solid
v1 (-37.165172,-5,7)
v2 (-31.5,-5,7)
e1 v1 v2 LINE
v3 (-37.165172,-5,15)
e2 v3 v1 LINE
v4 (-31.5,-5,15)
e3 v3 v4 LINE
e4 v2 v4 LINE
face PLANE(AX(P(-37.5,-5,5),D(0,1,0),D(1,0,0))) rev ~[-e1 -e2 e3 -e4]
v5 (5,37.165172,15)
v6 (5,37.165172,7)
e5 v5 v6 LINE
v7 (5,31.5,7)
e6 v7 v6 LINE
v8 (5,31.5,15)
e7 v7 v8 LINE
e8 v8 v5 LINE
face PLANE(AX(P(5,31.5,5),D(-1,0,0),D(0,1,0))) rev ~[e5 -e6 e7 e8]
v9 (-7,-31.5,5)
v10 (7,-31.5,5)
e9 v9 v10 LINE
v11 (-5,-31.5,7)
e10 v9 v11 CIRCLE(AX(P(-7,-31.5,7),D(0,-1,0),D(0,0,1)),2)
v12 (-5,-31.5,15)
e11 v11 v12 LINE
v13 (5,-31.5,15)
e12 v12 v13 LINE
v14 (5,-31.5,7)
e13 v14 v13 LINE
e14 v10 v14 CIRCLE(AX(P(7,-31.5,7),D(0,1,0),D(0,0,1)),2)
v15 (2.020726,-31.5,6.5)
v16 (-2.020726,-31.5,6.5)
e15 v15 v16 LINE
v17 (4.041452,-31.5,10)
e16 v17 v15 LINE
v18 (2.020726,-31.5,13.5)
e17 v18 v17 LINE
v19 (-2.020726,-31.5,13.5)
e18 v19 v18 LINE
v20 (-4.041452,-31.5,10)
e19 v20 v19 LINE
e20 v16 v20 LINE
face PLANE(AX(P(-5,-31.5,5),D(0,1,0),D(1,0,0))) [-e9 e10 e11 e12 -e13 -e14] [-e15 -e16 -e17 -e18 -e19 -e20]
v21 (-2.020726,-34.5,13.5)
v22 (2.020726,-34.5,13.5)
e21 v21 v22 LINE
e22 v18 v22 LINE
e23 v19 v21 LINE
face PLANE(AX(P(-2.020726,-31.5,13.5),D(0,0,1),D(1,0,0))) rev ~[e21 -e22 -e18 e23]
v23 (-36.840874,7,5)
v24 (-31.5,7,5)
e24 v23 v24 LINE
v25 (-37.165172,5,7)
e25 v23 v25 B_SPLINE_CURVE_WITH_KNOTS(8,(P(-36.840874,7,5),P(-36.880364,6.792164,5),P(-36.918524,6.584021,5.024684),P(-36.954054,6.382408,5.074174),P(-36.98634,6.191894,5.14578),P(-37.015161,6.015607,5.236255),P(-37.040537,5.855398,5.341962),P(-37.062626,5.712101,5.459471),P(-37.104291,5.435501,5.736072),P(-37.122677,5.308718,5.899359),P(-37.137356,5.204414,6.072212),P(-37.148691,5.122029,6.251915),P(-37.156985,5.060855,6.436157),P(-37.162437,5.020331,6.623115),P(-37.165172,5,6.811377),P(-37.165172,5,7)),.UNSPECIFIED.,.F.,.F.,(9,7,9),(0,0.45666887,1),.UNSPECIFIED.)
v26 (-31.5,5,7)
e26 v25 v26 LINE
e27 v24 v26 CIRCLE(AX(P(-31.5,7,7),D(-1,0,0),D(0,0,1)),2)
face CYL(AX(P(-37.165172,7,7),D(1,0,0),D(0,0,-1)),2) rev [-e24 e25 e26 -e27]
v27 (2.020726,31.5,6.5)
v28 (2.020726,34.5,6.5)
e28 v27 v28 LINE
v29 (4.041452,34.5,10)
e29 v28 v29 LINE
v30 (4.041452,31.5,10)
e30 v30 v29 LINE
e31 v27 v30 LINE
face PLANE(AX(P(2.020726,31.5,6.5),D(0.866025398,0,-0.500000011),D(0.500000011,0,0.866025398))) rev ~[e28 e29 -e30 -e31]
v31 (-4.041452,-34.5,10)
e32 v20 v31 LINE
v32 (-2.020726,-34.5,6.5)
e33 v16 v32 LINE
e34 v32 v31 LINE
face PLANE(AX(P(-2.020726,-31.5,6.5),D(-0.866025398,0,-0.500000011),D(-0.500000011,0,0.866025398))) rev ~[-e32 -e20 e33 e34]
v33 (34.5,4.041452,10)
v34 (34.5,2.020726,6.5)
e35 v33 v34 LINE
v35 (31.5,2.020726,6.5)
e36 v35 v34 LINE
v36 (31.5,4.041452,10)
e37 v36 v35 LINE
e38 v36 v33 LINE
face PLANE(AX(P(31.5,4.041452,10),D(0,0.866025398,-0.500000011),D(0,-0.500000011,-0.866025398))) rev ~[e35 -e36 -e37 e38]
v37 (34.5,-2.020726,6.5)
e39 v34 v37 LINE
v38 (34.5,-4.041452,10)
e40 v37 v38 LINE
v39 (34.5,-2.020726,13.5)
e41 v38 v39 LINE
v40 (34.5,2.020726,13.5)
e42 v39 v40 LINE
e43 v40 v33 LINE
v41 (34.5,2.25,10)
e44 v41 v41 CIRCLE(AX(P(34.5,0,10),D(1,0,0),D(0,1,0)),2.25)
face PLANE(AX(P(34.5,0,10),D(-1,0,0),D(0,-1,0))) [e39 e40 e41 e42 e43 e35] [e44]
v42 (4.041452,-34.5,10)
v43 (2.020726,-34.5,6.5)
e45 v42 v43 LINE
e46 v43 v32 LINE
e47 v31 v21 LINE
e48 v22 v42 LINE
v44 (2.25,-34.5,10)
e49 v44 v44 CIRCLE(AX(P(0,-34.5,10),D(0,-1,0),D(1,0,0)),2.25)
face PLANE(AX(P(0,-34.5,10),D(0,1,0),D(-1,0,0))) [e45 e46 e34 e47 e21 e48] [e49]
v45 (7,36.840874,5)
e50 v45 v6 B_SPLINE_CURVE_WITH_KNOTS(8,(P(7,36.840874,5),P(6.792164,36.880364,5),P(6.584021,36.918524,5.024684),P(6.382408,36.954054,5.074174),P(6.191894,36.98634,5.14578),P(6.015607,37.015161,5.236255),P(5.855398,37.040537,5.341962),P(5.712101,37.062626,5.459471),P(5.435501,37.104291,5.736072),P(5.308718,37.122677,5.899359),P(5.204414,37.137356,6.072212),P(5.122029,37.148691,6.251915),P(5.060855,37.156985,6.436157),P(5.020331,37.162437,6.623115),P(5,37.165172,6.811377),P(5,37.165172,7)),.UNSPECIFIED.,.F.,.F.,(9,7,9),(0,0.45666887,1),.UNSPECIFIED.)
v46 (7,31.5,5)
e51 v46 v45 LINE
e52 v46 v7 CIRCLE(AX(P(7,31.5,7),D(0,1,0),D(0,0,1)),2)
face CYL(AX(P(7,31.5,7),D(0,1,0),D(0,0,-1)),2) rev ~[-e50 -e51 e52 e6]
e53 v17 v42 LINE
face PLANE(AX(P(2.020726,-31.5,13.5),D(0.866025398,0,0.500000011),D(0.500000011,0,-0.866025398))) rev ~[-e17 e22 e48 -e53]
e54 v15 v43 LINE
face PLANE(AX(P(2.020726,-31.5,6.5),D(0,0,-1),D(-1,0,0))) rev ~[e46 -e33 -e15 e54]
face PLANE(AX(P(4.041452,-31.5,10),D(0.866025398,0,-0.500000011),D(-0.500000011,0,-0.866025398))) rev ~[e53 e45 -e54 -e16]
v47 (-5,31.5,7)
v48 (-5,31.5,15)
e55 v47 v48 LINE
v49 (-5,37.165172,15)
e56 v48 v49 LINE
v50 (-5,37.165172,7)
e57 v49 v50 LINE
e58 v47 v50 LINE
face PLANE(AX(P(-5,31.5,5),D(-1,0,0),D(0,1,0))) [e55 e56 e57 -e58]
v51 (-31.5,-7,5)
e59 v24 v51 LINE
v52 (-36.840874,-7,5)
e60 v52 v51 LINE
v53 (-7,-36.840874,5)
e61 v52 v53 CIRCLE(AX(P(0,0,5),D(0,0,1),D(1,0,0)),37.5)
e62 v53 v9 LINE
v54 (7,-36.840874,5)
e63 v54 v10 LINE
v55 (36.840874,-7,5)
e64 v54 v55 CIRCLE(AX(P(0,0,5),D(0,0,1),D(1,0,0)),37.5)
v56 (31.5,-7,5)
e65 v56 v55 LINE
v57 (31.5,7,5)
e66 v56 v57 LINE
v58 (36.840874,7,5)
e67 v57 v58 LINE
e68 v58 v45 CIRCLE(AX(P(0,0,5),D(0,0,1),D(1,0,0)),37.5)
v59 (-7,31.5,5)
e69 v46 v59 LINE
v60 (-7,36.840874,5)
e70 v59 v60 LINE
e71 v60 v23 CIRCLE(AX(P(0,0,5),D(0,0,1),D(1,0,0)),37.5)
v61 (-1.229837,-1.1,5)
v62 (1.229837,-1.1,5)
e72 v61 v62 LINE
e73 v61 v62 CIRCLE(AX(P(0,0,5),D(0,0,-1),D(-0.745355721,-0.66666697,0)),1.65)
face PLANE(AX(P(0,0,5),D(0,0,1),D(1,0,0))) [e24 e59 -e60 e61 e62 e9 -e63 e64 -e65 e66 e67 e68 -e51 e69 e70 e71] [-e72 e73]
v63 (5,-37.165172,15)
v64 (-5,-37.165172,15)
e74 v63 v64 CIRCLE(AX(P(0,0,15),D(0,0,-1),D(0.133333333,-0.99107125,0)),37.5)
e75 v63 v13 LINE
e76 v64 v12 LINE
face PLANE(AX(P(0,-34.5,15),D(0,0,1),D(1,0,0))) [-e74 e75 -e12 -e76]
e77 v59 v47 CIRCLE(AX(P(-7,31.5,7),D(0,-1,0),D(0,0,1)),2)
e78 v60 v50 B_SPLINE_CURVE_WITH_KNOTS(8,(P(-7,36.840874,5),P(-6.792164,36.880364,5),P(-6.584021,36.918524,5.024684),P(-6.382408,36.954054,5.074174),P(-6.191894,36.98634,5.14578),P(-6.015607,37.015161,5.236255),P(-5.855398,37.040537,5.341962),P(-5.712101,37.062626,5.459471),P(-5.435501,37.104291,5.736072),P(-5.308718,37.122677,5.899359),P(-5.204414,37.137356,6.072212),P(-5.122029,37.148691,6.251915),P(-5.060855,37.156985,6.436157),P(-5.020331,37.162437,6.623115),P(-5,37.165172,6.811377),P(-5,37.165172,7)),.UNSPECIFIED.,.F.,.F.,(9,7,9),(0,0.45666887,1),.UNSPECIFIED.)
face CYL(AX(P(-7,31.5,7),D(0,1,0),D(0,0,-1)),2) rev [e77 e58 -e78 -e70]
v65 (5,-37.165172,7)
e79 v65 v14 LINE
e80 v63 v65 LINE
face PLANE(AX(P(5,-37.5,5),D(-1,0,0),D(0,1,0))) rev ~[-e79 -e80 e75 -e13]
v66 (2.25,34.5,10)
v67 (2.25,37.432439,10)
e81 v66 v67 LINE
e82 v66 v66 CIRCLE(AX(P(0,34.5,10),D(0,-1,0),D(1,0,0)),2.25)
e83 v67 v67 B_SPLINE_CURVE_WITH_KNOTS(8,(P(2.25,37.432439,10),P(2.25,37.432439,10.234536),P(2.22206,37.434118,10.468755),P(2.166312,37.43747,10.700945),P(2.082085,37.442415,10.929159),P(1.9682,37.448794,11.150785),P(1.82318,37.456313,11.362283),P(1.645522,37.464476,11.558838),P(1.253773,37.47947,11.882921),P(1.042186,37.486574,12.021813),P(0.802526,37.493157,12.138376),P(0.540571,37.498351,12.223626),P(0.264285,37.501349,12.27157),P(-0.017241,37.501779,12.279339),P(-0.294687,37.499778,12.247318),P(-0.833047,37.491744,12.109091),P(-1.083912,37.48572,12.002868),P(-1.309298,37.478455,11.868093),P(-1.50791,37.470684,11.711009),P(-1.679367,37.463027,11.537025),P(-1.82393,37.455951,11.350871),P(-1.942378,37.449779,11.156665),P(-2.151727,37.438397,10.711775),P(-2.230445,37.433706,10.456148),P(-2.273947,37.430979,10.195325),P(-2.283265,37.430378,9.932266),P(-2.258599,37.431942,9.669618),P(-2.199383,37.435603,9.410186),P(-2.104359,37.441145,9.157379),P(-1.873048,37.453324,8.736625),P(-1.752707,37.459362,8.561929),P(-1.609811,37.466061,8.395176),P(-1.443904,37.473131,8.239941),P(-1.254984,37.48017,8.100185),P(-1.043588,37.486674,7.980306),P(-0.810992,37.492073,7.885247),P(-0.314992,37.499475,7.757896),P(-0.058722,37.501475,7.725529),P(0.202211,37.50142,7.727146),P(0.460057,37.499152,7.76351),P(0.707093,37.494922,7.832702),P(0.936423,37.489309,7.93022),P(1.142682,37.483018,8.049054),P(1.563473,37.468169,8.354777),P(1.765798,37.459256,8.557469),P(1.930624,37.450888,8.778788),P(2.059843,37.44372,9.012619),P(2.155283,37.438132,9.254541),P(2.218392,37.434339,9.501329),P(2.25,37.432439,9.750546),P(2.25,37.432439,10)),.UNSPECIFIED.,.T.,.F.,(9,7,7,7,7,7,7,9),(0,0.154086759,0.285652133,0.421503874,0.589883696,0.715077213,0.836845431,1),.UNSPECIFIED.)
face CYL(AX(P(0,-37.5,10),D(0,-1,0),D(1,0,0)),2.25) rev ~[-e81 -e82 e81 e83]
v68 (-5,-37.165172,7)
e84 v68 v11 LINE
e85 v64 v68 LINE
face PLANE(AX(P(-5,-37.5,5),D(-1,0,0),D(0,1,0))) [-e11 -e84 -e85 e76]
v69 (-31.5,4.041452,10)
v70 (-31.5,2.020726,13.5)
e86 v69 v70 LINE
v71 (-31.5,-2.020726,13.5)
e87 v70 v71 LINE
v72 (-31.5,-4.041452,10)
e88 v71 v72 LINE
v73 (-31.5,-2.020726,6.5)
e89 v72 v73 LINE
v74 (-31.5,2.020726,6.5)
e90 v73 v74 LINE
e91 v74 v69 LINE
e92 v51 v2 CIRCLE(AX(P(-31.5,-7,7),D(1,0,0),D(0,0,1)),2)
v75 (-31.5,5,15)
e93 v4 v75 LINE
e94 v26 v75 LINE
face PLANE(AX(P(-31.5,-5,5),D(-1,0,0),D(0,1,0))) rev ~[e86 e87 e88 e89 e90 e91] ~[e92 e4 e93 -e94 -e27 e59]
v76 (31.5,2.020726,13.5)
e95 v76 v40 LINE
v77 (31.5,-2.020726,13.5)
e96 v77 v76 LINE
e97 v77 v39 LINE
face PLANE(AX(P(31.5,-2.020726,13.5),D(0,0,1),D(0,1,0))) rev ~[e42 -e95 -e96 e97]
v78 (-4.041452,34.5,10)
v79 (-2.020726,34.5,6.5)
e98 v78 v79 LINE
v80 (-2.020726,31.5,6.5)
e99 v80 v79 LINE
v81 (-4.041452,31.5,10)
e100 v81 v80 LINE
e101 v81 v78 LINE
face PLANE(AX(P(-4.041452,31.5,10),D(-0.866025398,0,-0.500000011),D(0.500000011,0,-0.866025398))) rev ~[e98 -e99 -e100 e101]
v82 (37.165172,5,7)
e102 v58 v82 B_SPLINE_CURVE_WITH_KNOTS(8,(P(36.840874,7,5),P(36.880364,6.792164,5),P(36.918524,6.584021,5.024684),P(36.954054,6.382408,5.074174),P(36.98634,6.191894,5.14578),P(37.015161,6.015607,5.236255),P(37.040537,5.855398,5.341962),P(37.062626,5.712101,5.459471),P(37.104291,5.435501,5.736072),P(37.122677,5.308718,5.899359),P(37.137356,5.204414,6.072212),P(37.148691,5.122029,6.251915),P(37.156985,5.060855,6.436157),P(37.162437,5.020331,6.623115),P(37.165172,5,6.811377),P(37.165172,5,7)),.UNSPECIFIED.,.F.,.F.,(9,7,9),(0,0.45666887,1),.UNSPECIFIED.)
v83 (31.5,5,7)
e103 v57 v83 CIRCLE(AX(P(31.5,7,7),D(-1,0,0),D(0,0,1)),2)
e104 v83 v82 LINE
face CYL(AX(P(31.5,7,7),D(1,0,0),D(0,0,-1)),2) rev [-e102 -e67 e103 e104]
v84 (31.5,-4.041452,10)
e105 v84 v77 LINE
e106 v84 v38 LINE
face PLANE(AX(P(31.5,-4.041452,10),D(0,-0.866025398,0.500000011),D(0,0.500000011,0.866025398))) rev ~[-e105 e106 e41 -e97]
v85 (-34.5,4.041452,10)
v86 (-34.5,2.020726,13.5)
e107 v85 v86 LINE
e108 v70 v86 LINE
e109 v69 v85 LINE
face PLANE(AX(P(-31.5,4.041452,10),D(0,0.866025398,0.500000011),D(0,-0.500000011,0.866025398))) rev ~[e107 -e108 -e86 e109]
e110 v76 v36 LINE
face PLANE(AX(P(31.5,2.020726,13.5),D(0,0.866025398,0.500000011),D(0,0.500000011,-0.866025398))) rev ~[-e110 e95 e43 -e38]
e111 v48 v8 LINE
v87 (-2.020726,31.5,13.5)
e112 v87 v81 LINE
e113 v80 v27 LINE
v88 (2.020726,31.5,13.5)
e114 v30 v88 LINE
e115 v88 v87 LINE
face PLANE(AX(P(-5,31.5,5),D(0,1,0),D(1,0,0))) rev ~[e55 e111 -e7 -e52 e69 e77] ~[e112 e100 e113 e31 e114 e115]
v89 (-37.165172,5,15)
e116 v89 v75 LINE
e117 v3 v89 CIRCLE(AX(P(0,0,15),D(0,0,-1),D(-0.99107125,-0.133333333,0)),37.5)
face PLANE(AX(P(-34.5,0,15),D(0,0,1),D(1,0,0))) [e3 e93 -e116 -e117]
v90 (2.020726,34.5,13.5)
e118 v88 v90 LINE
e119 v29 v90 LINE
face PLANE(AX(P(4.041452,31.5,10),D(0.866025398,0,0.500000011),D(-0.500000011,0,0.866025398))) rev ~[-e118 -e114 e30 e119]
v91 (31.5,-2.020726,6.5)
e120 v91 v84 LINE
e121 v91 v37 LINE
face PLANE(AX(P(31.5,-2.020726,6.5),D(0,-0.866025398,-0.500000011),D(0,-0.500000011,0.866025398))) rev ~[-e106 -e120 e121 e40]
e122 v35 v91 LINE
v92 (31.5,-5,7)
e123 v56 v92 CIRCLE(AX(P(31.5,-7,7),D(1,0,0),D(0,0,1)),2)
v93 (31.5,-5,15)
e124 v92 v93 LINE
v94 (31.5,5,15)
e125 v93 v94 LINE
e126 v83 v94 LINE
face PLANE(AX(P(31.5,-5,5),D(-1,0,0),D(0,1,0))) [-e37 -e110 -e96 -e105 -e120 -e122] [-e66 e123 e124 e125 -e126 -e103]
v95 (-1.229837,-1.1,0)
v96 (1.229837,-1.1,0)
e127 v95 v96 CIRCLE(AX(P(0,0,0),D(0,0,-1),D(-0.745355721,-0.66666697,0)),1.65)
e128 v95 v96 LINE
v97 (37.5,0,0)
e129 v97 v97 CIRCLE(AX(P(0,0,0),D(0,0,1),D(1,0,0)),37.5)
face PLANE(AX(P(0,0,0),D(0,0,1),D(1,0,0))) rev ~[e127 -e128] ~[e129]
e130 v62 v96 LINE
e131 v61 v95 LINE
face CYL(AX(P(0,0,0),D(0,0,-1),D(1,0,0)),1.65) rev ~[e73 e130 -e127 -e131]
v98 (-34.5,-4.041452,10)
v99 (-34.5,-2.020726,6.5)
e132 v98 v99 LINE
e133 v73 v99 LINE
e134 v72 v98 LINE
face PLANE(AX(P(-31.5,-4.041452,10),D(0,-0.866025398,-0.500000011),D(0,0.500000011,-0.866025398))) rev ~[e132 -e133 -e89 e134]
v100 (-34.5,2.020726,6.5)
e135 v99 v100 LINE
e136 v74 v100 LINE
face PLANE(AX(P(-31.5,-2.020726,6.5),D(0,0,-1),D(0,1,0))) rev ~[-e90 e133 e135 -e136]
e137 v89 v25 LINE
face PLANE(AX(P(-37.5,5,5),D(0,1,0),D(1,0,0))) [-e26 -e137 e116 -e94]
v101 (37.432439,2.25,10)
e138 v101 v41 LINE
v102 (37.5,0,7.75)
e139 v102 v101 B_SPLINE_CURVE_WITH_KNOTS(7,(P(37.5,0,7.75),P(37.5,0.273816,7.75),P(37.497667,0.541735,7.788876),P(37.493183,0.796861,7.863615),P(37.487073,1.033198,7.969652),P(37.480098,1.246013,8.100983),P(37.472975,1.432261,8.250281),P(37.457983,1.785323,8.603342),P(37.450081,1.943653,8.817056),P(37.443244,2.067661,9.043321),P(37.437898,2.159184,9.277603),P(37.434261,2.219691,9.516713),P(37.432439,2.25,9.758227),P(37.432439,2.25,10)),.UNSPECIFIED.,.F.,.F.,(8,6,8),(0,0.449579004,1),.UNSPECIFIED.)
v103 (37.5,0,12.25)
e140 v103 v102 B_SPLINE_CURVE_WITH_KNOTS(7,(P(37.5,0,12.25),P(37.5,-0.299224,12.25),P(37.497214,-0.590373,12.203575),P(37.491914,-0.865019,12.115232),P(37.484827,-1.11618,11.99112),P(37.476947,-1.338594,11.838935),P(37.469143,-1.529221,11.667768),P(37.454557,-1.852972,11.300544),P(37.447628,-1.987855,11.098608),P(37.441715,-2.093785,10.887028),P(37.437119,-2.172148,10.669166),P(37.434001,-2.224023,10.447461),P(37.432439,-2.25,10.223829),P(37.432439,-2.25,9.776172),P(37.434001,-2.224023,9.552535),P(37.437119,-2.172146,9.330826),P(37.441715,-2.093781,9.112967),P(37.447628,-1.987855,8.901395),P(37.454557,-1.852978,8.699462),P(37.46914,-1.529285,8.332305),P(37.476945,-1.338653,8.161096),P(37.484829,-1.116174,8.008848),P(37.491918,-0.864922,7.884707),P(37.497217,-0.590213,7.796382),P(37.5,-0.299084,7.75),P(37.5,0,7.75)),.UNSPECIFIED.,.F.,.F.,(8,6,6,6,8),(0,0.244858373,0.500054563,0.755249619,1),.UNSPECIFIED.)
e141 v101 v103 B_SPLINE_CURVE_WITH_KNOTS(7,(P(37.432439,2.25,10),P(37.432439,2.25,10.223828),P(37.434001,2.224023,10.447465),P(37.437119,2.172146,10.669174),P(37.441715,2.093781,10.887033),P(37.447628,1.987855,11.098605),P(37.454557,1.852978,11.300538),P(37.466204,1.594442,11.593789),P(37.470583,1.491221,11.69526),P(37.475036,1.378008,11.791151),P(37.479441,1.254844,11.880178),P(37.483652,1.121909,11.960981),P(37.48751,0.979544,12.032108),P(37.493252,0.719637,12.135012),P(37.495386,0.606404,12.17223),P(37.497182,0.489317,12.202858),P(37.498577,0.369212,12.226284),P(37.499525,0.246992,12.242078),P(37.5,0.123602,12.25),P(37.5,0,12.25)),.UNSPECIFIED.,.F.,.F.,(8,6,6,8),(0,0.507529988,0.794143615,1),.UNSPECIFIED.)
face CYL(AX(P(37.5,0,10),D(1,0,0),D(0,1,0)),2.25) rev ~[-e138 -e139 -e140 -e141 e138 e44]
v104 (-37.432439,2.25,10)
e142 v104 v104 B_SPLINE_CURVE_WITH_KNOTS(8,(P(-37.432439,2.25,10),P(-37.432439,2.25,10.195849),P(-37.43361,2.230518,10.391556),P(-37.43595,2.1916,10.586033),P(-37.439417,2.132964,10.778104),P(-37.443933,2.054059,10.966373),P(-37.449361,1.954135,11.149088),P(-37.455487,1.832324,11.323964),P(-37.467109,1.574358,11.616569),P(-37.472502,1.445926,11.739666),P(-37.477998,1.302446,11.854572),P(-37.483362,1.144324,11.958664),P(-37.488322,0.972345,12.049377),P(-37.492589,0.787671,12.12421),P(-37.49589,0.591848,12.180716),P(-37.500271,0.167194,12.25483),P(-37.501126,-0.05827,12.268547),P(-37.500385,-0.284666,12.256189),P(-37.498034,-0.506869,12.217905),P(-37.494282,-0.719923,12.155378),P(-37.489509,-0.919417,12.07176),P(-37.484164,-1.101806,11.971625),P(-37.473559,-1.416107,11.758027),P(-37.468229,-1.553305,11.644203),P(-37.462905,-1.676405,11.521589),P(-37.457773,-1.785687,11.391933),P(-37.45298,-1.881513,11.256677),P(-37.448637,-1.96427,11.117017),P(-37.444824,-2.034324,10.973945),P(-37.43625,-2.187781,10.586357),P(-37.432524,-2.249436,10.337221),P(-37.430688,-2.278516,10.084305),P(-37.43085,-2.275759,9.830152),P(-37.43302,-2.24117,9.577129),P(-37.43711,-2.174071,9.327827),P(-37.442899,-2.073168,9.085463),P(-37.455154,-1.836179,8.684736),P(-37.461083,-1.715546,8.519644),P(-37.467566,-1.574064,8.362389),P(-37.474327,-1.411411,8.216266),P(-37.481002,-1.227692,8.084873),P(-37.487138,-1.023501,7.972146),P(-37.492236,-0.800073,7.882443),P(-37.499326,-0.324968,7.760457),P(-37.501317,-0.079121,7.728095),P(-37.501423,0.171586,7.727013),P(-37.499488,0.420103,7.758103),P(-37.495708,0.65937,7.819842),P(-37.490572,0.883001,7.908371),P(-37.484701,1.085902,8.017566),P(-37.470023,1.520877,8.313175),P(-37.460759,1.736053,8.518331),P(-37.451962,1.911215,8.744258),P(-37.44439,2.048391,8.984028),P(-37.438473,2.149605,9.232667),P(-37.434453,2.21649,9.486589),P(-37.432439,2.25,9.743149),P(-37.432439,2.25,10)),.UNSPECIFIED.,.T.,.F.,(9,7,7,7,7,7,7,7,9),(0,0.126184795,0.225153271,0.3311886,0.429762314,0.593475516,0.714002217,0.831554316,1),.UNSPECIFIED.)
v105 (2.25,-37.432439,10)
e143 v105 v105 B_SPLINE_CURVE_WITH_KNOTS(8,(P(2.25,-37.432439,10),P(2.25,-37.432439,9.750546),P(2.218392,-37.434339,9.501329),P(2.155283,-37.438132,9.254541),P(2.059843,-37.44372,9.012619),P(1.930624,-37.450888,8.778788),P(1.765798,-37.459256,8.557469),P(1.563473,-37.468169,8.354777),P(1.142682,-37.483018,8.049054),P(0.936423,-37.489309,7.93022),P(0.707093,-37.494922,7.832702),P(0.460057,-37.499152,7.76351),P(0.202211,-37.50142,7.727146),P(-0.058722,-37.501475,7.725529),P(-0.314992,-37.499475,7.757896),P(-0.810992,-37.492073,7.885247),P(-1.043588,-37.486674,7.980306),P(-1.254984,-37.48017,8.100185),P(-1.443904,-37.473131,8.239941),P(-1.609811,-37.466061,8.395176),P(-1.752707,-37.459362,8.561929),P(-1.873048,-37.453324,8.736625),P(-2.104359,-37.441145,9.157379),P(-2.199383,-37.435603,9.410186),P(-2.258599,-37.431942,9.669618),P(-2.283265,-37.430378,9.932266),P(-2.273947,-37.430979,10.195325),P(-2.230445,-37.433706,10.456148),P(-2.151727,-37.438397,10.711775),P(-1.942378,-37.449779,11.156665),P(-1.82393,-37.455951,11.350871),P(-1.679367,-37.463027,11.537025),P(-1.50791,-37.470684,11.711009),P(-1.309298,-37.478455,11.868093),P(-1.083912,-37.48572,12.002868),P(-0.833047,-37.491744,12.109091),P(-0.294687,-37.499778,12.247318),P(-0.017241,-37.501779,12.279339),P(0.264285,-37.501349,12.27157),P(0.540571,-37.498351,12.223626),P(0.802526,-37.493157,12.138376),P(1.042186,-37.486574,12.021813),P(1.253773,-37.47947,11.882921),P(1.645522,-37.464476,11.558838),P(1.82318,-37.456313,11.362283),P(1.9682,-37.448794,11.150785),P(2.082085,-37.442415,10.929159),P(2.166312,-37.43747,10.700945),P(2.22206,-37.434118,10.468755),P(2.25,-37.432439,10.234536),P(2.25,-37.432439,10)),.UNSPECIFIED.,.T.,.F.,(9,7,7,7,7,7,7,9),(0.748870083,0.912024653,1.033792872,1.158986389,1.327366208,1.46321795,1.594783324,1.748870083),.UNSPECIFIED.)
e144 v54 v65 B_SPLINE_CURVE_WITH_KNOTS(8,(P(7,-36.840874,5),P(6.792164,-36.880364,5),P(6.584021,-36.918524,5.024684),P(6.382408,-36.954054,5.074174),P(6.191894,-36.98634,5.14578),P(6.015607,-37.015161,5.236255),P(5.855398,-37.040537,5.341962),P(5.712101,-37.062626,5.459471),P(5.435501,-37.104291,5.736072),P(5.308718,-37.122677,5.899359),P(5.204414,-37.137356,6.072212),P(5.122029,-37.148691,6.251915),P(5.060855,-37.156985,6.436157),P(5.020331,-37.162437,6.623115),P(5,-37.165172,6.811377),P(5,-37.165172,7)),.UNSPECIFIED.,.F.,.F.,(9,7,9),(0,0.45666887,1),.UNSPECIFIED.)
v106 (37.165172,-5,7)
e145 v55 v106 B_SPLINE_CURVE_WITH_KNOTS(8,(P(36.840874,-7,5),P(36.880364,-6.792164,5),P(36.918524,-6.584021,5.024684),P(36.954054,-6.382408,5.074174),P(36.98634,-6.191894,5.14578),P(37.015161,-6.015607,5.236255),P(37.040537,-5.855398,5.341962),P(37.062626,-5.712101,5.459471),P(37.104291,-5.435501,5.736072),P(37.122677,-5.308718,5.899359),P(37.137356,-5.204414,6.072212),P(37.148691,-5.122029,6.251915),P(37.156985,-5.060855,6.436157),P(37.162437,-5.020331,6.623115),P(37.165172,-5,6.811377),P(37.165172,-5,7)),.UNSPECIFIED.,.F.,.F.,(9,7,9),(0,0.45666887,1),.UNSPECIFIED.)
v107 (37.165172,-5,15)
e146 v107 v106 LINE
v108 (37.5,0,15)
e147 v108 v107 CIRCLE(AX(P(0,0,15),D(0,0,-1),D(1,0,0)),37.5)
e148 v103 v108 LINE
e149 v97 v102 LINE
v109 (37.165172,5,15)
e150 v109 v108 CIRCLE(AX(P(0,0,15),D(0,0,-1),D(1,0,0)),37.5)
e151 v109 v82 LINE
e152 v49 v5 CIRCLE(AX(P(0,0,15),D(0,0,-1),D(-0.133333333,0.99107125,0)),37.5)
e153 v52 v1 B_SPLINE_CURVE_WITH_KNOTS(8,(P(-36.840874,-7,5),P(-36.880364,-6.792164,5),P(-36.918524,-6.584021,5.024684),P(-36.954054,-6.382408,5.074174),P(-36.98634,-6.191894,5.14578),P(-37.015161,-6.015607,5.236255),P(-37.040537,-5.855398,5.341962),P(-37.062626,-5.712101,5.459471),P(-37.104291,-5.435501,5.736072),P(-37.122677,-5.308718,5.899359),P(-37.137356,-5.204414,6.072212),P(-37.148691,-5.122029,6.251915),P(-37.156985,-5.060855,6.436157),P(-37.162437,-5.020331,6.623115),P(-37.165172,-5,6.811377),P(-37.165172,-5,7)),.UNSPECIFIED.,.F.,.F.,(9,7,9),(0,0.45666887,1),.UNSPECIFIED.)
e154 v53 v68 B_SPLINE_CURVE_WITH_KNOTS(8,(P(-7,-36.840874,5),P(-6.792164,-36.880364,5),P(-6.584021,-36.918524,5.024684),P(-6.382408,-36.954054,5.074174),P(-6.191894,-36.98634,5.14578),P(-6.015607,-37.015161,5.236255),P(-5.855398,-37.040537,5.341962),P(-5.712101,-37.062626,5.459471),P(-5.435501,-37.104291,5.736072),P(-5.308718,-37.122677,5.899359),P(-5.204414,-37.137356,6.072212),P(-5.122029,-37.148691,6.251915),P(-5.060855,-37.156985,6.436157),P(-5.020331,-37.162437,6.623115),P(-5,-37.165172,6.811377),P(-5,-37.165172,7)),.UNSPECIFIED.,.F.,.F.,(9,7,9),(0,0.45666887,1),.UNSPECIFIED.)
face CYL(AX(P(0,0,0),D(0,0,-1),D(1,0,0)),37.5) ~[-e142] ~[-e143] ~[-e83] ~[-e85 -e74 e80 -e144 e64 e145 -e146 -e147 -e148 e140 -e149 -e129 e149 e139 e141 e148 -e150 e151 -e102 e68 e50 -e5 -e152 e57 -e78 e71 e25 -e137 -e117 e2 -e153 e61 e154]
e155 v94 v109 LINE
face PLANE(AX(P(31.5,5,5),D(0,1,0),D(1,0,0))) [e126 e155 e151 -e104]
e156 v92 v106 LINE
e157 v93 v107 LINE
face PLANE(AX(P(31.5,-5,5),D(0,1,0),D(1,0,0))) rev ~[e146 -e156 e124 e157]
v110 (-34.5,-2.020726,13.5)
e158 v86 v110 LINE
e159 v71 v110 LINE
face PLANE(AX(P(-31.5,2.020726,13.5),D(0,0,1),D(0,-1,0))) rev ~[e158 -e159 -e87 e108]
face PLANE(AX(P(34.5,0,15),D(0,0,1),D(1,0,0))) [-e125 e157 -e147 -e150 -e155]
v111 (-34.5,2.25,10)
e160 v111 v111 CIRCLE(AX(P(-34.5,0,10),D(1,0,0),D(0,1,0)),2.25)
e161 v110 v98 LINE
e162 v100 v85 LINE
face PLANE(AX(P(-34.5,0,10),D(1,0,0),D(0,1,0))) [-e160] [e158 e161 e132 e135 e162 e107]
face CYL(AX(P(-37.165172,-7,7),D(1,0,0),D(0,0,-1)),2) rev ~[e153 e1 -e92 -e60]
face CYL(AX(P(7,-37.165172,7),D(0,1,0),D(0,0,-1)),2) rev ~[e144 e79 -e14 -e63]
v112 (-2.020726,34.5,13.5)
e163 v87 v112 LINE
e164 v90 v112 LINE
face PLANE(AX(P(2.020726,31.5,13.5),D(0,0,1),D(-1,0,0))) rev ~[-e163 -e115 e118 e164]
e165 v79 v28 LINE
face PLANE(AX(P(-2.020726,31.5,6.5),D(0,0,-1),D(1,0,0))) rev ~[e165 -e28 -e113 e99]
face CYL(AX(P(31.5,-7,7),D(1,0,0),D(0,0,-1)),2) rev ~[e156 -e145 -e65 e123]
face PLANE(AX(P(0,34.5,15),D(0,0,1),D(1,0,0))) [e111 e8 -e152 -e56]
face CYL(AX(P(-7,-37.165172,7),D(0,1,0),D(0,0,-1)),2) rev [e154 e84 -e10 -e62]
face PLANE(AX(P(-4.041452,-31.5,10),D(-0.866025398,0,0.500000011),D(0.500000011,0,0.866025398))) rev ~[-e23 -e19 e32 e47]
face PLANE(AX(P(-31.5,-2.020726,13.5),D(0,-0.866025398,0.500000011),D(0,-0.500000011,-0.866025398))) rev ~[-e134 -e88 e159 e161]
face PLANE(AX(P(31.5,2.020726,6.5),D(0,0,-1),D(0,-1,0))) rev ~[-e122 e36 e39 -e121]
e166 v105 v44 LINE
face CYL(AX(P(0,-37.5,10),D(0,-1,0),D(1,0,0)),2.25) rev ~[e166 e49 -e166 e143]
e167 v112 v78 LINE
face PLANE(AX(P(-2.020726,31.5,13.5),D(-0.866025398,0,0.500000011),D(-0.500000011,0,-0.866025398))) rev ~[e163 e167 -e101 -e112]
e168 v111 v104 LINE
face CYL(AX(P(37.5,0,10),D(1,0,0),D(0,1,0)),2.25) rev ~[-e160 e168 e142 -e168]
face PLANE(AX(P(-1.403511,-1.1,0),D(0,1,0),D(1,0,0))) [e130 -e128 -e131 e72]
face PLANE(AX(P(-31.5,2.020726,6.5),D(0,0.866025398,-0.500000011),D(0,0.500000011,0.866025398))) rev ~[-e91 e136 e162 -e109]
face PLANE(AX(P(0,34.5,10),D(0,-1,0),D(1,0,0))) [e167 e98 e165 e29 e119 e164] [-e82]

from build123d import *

# Parameters (mm, degrees)
SKETCH_R        = 37.5
PAD_DEPTH       = 5
SKETCH001_W     = 10
SKETCH001_H     = 6
SKETCH001_W_2   = 6
SKETCH001_H_2   = 10
PAD001_DEPTH    = 10
POCKET_DEPTH    = 3
POCKET001_DEPTH = 3
POCKET002_DEPTH = 3
POCKET003_DEPTH = 3
SKETCH006_R     = 2.25
POCKET004_DEPTH = 75
SKETCH007_R     = 2.25
POCKET005_DEPTH = 75
SKETCH008_R     = 1.65
POCKET006_DEPTH = 5
SKETCH009_W     = 2.756733
SKETCH009_H     = 1.311991
PAD002_DEPTH    = 5
SKETCH010_R     = 40
SKETCH010_R_2   = 37.5
POCKET007_DEPTH = 15
FILLET_R        = 2


with BuildPart() as part:
    # Sketch → Pad (new body)
    with BuildSketch(Plane.XY):
        Circle(SKETCH_R)
    extrude(amount=PAD_DEPTH)

    # Sketch001 (on Face3 of Pad) → Pad001 (join)
    with BuildSketch(Plane.XY.offset(5)):
        with Locations((0, 34.5)):
            Rectangle(SKETCH001_W, SKETCH001_H)
        with Locations((0, -34.5)):
            Rectangle(SKETCH001_W, SKETCH001_H)
        with Locations((-34.5, 0)):
            Rectangle(SKETCH001_W_2, SKETCH001_H_2)
        with Locations((34.5, 0)):
            Rectangle(SKETCH001_W_2, SKETCH001_H_2)
    extrude(amount=PAD001_DEPTH)

    # Sketch002 (on Face20 of Pad001) → Pocket (cut)
    with BuildSketch(Plane.YZ.offset(-31.5)):
        Polygon((4.041452, 10), (2.020726, 13.5), (-2.020726, 13.5), (-4.041452, 10), (-2.020726, 6.5), (2.020726, 6.5), align=None)
    extrude(amount=-POCKET_DEPTH, mode=Mode.SUBTRACT)

    # Sketch003 (on Face23 of Pocket) → Pocket001 (cut)
    with BuildSketch(Plane.XZ.offset(-31.5)):
        Polygon((4.041452, 10), (2.020726, 13.5), (-2.020726, 13.5), (-4.041452, 10), (-2.020726, 6.5), (2.020726, 6.5), align=None)
    extrude(amount=-POCKET001_DEPTH, mode=Mode.SUBTRACT)

    # Sketch004 (on Face15 of Pocket001) → Pocket002 (cut)
    with BuildSketch(Plane(origin=(31.5, 0, 0), x_dir=(0, -1, 0), z_dir=(-1, 0, 0))):
        Polygon((4.041452, 10), (2.020726, 13.5), (-2.020726, 13.5), (-4.041452, 10), (-2.020726, 6.5), (2.020726, 6.5), align=None)
    extrude(amount=-POCKET002_DEPTH, mode=Mode.SUBTRACT)

    # Sketch005 (on Face17 of Pocket002) → Pocket003 (cut)
    with BuildSketch(Plane(origin=(0, -31.5, 0), x_dir=(-1, 0, 0), z_dir=(0, 1, 0))):
        Polygon((4.041452, 10), (2.020726, 13.5), (-2.020726, 13.5), (-4.041452, 10), (-2.020726, 6.5), (2.020726, 6.5), align=None)
    extrude(amount=-POCKET003_DEPTH, mode=Mode.SUBTRACT)

    # Sketch006 (on Face12 of Pocket003) → Pocket004 (cut)
    with BuildSketch(Plane.YZ.offset(37.5)):
        with Locations((0, 10)):
            Circle(SKETCH006_R)
    extrude(amount=-POCKET004_DEPTH, mode=Mode.SUBTRACT)

    # Sketch007 (on Face25 of Pocket004) → Pocket005 (cut)
    with BuildSketch(Plane.XZ.offset(37.5)):
        with Locations((0, 10)):
            Circle(SKETCH007_R)
    extrude(amount=-POCKET005_DEPTH, mode=Mode.SUBTRACT)

    # Sketch008 (on Face2 of Pocket005) → Pocket006 (cut)
    with BuildSketch(Plane(origin=(0, 0, 0), x_dir=(1, 0, 0), z_dir=(0, 0, -1))):
        Circle(SKETCH008_R)
    extrude(amount=-POCKET006_DEPTH, mode=Mode.SUBTRACT)

    # Sketch009 (on Face2 of Pocket006) → Pad002 (join)
    with BuildSketch(Plane(origin=(0, 0, 0), x_dir=(1, 0, 0), z_dir=(0, 0, -1))):
        with Locations((-0.025144, 1.755996)):
            Rectangle(SKETCH009_W, SKETCH009_H)
    extrude(amount=-PAD002_DEPTH)

    # Sketch010 (on Face62 of Pad002) → Pocket007 (cut)
    with BuildSketch(Plane(origin=(0, 0, 0), x_dir=(1, 0, 0), z_dir=(0, 0, -1))):
        Circle(SKETCH010_R)
        Circle(SKETCH010_R_2, mode=Mode.SUBTRACT)
    extrude(amount=-POCKET007_DEPTH, mode=Mode.SUBTRACT)

    # Fillet
    fillet_edges = [part.edges().sort_by_distance(p)[0] for p in [
        (5, -34.332586, 5),
        (-5, -34.332586, 5),
        (-34.332586, -5, 5),
        (34.332586, -5, 5),
        (5, 34.332586, 5),
        (34.332586, 5, 5),
        (-34.332586, 5, 5),
        (-5, 34.332586, 5),
    ]]
    fillet(fillet_edges, radius=FILLET_R)


solid = part.part
